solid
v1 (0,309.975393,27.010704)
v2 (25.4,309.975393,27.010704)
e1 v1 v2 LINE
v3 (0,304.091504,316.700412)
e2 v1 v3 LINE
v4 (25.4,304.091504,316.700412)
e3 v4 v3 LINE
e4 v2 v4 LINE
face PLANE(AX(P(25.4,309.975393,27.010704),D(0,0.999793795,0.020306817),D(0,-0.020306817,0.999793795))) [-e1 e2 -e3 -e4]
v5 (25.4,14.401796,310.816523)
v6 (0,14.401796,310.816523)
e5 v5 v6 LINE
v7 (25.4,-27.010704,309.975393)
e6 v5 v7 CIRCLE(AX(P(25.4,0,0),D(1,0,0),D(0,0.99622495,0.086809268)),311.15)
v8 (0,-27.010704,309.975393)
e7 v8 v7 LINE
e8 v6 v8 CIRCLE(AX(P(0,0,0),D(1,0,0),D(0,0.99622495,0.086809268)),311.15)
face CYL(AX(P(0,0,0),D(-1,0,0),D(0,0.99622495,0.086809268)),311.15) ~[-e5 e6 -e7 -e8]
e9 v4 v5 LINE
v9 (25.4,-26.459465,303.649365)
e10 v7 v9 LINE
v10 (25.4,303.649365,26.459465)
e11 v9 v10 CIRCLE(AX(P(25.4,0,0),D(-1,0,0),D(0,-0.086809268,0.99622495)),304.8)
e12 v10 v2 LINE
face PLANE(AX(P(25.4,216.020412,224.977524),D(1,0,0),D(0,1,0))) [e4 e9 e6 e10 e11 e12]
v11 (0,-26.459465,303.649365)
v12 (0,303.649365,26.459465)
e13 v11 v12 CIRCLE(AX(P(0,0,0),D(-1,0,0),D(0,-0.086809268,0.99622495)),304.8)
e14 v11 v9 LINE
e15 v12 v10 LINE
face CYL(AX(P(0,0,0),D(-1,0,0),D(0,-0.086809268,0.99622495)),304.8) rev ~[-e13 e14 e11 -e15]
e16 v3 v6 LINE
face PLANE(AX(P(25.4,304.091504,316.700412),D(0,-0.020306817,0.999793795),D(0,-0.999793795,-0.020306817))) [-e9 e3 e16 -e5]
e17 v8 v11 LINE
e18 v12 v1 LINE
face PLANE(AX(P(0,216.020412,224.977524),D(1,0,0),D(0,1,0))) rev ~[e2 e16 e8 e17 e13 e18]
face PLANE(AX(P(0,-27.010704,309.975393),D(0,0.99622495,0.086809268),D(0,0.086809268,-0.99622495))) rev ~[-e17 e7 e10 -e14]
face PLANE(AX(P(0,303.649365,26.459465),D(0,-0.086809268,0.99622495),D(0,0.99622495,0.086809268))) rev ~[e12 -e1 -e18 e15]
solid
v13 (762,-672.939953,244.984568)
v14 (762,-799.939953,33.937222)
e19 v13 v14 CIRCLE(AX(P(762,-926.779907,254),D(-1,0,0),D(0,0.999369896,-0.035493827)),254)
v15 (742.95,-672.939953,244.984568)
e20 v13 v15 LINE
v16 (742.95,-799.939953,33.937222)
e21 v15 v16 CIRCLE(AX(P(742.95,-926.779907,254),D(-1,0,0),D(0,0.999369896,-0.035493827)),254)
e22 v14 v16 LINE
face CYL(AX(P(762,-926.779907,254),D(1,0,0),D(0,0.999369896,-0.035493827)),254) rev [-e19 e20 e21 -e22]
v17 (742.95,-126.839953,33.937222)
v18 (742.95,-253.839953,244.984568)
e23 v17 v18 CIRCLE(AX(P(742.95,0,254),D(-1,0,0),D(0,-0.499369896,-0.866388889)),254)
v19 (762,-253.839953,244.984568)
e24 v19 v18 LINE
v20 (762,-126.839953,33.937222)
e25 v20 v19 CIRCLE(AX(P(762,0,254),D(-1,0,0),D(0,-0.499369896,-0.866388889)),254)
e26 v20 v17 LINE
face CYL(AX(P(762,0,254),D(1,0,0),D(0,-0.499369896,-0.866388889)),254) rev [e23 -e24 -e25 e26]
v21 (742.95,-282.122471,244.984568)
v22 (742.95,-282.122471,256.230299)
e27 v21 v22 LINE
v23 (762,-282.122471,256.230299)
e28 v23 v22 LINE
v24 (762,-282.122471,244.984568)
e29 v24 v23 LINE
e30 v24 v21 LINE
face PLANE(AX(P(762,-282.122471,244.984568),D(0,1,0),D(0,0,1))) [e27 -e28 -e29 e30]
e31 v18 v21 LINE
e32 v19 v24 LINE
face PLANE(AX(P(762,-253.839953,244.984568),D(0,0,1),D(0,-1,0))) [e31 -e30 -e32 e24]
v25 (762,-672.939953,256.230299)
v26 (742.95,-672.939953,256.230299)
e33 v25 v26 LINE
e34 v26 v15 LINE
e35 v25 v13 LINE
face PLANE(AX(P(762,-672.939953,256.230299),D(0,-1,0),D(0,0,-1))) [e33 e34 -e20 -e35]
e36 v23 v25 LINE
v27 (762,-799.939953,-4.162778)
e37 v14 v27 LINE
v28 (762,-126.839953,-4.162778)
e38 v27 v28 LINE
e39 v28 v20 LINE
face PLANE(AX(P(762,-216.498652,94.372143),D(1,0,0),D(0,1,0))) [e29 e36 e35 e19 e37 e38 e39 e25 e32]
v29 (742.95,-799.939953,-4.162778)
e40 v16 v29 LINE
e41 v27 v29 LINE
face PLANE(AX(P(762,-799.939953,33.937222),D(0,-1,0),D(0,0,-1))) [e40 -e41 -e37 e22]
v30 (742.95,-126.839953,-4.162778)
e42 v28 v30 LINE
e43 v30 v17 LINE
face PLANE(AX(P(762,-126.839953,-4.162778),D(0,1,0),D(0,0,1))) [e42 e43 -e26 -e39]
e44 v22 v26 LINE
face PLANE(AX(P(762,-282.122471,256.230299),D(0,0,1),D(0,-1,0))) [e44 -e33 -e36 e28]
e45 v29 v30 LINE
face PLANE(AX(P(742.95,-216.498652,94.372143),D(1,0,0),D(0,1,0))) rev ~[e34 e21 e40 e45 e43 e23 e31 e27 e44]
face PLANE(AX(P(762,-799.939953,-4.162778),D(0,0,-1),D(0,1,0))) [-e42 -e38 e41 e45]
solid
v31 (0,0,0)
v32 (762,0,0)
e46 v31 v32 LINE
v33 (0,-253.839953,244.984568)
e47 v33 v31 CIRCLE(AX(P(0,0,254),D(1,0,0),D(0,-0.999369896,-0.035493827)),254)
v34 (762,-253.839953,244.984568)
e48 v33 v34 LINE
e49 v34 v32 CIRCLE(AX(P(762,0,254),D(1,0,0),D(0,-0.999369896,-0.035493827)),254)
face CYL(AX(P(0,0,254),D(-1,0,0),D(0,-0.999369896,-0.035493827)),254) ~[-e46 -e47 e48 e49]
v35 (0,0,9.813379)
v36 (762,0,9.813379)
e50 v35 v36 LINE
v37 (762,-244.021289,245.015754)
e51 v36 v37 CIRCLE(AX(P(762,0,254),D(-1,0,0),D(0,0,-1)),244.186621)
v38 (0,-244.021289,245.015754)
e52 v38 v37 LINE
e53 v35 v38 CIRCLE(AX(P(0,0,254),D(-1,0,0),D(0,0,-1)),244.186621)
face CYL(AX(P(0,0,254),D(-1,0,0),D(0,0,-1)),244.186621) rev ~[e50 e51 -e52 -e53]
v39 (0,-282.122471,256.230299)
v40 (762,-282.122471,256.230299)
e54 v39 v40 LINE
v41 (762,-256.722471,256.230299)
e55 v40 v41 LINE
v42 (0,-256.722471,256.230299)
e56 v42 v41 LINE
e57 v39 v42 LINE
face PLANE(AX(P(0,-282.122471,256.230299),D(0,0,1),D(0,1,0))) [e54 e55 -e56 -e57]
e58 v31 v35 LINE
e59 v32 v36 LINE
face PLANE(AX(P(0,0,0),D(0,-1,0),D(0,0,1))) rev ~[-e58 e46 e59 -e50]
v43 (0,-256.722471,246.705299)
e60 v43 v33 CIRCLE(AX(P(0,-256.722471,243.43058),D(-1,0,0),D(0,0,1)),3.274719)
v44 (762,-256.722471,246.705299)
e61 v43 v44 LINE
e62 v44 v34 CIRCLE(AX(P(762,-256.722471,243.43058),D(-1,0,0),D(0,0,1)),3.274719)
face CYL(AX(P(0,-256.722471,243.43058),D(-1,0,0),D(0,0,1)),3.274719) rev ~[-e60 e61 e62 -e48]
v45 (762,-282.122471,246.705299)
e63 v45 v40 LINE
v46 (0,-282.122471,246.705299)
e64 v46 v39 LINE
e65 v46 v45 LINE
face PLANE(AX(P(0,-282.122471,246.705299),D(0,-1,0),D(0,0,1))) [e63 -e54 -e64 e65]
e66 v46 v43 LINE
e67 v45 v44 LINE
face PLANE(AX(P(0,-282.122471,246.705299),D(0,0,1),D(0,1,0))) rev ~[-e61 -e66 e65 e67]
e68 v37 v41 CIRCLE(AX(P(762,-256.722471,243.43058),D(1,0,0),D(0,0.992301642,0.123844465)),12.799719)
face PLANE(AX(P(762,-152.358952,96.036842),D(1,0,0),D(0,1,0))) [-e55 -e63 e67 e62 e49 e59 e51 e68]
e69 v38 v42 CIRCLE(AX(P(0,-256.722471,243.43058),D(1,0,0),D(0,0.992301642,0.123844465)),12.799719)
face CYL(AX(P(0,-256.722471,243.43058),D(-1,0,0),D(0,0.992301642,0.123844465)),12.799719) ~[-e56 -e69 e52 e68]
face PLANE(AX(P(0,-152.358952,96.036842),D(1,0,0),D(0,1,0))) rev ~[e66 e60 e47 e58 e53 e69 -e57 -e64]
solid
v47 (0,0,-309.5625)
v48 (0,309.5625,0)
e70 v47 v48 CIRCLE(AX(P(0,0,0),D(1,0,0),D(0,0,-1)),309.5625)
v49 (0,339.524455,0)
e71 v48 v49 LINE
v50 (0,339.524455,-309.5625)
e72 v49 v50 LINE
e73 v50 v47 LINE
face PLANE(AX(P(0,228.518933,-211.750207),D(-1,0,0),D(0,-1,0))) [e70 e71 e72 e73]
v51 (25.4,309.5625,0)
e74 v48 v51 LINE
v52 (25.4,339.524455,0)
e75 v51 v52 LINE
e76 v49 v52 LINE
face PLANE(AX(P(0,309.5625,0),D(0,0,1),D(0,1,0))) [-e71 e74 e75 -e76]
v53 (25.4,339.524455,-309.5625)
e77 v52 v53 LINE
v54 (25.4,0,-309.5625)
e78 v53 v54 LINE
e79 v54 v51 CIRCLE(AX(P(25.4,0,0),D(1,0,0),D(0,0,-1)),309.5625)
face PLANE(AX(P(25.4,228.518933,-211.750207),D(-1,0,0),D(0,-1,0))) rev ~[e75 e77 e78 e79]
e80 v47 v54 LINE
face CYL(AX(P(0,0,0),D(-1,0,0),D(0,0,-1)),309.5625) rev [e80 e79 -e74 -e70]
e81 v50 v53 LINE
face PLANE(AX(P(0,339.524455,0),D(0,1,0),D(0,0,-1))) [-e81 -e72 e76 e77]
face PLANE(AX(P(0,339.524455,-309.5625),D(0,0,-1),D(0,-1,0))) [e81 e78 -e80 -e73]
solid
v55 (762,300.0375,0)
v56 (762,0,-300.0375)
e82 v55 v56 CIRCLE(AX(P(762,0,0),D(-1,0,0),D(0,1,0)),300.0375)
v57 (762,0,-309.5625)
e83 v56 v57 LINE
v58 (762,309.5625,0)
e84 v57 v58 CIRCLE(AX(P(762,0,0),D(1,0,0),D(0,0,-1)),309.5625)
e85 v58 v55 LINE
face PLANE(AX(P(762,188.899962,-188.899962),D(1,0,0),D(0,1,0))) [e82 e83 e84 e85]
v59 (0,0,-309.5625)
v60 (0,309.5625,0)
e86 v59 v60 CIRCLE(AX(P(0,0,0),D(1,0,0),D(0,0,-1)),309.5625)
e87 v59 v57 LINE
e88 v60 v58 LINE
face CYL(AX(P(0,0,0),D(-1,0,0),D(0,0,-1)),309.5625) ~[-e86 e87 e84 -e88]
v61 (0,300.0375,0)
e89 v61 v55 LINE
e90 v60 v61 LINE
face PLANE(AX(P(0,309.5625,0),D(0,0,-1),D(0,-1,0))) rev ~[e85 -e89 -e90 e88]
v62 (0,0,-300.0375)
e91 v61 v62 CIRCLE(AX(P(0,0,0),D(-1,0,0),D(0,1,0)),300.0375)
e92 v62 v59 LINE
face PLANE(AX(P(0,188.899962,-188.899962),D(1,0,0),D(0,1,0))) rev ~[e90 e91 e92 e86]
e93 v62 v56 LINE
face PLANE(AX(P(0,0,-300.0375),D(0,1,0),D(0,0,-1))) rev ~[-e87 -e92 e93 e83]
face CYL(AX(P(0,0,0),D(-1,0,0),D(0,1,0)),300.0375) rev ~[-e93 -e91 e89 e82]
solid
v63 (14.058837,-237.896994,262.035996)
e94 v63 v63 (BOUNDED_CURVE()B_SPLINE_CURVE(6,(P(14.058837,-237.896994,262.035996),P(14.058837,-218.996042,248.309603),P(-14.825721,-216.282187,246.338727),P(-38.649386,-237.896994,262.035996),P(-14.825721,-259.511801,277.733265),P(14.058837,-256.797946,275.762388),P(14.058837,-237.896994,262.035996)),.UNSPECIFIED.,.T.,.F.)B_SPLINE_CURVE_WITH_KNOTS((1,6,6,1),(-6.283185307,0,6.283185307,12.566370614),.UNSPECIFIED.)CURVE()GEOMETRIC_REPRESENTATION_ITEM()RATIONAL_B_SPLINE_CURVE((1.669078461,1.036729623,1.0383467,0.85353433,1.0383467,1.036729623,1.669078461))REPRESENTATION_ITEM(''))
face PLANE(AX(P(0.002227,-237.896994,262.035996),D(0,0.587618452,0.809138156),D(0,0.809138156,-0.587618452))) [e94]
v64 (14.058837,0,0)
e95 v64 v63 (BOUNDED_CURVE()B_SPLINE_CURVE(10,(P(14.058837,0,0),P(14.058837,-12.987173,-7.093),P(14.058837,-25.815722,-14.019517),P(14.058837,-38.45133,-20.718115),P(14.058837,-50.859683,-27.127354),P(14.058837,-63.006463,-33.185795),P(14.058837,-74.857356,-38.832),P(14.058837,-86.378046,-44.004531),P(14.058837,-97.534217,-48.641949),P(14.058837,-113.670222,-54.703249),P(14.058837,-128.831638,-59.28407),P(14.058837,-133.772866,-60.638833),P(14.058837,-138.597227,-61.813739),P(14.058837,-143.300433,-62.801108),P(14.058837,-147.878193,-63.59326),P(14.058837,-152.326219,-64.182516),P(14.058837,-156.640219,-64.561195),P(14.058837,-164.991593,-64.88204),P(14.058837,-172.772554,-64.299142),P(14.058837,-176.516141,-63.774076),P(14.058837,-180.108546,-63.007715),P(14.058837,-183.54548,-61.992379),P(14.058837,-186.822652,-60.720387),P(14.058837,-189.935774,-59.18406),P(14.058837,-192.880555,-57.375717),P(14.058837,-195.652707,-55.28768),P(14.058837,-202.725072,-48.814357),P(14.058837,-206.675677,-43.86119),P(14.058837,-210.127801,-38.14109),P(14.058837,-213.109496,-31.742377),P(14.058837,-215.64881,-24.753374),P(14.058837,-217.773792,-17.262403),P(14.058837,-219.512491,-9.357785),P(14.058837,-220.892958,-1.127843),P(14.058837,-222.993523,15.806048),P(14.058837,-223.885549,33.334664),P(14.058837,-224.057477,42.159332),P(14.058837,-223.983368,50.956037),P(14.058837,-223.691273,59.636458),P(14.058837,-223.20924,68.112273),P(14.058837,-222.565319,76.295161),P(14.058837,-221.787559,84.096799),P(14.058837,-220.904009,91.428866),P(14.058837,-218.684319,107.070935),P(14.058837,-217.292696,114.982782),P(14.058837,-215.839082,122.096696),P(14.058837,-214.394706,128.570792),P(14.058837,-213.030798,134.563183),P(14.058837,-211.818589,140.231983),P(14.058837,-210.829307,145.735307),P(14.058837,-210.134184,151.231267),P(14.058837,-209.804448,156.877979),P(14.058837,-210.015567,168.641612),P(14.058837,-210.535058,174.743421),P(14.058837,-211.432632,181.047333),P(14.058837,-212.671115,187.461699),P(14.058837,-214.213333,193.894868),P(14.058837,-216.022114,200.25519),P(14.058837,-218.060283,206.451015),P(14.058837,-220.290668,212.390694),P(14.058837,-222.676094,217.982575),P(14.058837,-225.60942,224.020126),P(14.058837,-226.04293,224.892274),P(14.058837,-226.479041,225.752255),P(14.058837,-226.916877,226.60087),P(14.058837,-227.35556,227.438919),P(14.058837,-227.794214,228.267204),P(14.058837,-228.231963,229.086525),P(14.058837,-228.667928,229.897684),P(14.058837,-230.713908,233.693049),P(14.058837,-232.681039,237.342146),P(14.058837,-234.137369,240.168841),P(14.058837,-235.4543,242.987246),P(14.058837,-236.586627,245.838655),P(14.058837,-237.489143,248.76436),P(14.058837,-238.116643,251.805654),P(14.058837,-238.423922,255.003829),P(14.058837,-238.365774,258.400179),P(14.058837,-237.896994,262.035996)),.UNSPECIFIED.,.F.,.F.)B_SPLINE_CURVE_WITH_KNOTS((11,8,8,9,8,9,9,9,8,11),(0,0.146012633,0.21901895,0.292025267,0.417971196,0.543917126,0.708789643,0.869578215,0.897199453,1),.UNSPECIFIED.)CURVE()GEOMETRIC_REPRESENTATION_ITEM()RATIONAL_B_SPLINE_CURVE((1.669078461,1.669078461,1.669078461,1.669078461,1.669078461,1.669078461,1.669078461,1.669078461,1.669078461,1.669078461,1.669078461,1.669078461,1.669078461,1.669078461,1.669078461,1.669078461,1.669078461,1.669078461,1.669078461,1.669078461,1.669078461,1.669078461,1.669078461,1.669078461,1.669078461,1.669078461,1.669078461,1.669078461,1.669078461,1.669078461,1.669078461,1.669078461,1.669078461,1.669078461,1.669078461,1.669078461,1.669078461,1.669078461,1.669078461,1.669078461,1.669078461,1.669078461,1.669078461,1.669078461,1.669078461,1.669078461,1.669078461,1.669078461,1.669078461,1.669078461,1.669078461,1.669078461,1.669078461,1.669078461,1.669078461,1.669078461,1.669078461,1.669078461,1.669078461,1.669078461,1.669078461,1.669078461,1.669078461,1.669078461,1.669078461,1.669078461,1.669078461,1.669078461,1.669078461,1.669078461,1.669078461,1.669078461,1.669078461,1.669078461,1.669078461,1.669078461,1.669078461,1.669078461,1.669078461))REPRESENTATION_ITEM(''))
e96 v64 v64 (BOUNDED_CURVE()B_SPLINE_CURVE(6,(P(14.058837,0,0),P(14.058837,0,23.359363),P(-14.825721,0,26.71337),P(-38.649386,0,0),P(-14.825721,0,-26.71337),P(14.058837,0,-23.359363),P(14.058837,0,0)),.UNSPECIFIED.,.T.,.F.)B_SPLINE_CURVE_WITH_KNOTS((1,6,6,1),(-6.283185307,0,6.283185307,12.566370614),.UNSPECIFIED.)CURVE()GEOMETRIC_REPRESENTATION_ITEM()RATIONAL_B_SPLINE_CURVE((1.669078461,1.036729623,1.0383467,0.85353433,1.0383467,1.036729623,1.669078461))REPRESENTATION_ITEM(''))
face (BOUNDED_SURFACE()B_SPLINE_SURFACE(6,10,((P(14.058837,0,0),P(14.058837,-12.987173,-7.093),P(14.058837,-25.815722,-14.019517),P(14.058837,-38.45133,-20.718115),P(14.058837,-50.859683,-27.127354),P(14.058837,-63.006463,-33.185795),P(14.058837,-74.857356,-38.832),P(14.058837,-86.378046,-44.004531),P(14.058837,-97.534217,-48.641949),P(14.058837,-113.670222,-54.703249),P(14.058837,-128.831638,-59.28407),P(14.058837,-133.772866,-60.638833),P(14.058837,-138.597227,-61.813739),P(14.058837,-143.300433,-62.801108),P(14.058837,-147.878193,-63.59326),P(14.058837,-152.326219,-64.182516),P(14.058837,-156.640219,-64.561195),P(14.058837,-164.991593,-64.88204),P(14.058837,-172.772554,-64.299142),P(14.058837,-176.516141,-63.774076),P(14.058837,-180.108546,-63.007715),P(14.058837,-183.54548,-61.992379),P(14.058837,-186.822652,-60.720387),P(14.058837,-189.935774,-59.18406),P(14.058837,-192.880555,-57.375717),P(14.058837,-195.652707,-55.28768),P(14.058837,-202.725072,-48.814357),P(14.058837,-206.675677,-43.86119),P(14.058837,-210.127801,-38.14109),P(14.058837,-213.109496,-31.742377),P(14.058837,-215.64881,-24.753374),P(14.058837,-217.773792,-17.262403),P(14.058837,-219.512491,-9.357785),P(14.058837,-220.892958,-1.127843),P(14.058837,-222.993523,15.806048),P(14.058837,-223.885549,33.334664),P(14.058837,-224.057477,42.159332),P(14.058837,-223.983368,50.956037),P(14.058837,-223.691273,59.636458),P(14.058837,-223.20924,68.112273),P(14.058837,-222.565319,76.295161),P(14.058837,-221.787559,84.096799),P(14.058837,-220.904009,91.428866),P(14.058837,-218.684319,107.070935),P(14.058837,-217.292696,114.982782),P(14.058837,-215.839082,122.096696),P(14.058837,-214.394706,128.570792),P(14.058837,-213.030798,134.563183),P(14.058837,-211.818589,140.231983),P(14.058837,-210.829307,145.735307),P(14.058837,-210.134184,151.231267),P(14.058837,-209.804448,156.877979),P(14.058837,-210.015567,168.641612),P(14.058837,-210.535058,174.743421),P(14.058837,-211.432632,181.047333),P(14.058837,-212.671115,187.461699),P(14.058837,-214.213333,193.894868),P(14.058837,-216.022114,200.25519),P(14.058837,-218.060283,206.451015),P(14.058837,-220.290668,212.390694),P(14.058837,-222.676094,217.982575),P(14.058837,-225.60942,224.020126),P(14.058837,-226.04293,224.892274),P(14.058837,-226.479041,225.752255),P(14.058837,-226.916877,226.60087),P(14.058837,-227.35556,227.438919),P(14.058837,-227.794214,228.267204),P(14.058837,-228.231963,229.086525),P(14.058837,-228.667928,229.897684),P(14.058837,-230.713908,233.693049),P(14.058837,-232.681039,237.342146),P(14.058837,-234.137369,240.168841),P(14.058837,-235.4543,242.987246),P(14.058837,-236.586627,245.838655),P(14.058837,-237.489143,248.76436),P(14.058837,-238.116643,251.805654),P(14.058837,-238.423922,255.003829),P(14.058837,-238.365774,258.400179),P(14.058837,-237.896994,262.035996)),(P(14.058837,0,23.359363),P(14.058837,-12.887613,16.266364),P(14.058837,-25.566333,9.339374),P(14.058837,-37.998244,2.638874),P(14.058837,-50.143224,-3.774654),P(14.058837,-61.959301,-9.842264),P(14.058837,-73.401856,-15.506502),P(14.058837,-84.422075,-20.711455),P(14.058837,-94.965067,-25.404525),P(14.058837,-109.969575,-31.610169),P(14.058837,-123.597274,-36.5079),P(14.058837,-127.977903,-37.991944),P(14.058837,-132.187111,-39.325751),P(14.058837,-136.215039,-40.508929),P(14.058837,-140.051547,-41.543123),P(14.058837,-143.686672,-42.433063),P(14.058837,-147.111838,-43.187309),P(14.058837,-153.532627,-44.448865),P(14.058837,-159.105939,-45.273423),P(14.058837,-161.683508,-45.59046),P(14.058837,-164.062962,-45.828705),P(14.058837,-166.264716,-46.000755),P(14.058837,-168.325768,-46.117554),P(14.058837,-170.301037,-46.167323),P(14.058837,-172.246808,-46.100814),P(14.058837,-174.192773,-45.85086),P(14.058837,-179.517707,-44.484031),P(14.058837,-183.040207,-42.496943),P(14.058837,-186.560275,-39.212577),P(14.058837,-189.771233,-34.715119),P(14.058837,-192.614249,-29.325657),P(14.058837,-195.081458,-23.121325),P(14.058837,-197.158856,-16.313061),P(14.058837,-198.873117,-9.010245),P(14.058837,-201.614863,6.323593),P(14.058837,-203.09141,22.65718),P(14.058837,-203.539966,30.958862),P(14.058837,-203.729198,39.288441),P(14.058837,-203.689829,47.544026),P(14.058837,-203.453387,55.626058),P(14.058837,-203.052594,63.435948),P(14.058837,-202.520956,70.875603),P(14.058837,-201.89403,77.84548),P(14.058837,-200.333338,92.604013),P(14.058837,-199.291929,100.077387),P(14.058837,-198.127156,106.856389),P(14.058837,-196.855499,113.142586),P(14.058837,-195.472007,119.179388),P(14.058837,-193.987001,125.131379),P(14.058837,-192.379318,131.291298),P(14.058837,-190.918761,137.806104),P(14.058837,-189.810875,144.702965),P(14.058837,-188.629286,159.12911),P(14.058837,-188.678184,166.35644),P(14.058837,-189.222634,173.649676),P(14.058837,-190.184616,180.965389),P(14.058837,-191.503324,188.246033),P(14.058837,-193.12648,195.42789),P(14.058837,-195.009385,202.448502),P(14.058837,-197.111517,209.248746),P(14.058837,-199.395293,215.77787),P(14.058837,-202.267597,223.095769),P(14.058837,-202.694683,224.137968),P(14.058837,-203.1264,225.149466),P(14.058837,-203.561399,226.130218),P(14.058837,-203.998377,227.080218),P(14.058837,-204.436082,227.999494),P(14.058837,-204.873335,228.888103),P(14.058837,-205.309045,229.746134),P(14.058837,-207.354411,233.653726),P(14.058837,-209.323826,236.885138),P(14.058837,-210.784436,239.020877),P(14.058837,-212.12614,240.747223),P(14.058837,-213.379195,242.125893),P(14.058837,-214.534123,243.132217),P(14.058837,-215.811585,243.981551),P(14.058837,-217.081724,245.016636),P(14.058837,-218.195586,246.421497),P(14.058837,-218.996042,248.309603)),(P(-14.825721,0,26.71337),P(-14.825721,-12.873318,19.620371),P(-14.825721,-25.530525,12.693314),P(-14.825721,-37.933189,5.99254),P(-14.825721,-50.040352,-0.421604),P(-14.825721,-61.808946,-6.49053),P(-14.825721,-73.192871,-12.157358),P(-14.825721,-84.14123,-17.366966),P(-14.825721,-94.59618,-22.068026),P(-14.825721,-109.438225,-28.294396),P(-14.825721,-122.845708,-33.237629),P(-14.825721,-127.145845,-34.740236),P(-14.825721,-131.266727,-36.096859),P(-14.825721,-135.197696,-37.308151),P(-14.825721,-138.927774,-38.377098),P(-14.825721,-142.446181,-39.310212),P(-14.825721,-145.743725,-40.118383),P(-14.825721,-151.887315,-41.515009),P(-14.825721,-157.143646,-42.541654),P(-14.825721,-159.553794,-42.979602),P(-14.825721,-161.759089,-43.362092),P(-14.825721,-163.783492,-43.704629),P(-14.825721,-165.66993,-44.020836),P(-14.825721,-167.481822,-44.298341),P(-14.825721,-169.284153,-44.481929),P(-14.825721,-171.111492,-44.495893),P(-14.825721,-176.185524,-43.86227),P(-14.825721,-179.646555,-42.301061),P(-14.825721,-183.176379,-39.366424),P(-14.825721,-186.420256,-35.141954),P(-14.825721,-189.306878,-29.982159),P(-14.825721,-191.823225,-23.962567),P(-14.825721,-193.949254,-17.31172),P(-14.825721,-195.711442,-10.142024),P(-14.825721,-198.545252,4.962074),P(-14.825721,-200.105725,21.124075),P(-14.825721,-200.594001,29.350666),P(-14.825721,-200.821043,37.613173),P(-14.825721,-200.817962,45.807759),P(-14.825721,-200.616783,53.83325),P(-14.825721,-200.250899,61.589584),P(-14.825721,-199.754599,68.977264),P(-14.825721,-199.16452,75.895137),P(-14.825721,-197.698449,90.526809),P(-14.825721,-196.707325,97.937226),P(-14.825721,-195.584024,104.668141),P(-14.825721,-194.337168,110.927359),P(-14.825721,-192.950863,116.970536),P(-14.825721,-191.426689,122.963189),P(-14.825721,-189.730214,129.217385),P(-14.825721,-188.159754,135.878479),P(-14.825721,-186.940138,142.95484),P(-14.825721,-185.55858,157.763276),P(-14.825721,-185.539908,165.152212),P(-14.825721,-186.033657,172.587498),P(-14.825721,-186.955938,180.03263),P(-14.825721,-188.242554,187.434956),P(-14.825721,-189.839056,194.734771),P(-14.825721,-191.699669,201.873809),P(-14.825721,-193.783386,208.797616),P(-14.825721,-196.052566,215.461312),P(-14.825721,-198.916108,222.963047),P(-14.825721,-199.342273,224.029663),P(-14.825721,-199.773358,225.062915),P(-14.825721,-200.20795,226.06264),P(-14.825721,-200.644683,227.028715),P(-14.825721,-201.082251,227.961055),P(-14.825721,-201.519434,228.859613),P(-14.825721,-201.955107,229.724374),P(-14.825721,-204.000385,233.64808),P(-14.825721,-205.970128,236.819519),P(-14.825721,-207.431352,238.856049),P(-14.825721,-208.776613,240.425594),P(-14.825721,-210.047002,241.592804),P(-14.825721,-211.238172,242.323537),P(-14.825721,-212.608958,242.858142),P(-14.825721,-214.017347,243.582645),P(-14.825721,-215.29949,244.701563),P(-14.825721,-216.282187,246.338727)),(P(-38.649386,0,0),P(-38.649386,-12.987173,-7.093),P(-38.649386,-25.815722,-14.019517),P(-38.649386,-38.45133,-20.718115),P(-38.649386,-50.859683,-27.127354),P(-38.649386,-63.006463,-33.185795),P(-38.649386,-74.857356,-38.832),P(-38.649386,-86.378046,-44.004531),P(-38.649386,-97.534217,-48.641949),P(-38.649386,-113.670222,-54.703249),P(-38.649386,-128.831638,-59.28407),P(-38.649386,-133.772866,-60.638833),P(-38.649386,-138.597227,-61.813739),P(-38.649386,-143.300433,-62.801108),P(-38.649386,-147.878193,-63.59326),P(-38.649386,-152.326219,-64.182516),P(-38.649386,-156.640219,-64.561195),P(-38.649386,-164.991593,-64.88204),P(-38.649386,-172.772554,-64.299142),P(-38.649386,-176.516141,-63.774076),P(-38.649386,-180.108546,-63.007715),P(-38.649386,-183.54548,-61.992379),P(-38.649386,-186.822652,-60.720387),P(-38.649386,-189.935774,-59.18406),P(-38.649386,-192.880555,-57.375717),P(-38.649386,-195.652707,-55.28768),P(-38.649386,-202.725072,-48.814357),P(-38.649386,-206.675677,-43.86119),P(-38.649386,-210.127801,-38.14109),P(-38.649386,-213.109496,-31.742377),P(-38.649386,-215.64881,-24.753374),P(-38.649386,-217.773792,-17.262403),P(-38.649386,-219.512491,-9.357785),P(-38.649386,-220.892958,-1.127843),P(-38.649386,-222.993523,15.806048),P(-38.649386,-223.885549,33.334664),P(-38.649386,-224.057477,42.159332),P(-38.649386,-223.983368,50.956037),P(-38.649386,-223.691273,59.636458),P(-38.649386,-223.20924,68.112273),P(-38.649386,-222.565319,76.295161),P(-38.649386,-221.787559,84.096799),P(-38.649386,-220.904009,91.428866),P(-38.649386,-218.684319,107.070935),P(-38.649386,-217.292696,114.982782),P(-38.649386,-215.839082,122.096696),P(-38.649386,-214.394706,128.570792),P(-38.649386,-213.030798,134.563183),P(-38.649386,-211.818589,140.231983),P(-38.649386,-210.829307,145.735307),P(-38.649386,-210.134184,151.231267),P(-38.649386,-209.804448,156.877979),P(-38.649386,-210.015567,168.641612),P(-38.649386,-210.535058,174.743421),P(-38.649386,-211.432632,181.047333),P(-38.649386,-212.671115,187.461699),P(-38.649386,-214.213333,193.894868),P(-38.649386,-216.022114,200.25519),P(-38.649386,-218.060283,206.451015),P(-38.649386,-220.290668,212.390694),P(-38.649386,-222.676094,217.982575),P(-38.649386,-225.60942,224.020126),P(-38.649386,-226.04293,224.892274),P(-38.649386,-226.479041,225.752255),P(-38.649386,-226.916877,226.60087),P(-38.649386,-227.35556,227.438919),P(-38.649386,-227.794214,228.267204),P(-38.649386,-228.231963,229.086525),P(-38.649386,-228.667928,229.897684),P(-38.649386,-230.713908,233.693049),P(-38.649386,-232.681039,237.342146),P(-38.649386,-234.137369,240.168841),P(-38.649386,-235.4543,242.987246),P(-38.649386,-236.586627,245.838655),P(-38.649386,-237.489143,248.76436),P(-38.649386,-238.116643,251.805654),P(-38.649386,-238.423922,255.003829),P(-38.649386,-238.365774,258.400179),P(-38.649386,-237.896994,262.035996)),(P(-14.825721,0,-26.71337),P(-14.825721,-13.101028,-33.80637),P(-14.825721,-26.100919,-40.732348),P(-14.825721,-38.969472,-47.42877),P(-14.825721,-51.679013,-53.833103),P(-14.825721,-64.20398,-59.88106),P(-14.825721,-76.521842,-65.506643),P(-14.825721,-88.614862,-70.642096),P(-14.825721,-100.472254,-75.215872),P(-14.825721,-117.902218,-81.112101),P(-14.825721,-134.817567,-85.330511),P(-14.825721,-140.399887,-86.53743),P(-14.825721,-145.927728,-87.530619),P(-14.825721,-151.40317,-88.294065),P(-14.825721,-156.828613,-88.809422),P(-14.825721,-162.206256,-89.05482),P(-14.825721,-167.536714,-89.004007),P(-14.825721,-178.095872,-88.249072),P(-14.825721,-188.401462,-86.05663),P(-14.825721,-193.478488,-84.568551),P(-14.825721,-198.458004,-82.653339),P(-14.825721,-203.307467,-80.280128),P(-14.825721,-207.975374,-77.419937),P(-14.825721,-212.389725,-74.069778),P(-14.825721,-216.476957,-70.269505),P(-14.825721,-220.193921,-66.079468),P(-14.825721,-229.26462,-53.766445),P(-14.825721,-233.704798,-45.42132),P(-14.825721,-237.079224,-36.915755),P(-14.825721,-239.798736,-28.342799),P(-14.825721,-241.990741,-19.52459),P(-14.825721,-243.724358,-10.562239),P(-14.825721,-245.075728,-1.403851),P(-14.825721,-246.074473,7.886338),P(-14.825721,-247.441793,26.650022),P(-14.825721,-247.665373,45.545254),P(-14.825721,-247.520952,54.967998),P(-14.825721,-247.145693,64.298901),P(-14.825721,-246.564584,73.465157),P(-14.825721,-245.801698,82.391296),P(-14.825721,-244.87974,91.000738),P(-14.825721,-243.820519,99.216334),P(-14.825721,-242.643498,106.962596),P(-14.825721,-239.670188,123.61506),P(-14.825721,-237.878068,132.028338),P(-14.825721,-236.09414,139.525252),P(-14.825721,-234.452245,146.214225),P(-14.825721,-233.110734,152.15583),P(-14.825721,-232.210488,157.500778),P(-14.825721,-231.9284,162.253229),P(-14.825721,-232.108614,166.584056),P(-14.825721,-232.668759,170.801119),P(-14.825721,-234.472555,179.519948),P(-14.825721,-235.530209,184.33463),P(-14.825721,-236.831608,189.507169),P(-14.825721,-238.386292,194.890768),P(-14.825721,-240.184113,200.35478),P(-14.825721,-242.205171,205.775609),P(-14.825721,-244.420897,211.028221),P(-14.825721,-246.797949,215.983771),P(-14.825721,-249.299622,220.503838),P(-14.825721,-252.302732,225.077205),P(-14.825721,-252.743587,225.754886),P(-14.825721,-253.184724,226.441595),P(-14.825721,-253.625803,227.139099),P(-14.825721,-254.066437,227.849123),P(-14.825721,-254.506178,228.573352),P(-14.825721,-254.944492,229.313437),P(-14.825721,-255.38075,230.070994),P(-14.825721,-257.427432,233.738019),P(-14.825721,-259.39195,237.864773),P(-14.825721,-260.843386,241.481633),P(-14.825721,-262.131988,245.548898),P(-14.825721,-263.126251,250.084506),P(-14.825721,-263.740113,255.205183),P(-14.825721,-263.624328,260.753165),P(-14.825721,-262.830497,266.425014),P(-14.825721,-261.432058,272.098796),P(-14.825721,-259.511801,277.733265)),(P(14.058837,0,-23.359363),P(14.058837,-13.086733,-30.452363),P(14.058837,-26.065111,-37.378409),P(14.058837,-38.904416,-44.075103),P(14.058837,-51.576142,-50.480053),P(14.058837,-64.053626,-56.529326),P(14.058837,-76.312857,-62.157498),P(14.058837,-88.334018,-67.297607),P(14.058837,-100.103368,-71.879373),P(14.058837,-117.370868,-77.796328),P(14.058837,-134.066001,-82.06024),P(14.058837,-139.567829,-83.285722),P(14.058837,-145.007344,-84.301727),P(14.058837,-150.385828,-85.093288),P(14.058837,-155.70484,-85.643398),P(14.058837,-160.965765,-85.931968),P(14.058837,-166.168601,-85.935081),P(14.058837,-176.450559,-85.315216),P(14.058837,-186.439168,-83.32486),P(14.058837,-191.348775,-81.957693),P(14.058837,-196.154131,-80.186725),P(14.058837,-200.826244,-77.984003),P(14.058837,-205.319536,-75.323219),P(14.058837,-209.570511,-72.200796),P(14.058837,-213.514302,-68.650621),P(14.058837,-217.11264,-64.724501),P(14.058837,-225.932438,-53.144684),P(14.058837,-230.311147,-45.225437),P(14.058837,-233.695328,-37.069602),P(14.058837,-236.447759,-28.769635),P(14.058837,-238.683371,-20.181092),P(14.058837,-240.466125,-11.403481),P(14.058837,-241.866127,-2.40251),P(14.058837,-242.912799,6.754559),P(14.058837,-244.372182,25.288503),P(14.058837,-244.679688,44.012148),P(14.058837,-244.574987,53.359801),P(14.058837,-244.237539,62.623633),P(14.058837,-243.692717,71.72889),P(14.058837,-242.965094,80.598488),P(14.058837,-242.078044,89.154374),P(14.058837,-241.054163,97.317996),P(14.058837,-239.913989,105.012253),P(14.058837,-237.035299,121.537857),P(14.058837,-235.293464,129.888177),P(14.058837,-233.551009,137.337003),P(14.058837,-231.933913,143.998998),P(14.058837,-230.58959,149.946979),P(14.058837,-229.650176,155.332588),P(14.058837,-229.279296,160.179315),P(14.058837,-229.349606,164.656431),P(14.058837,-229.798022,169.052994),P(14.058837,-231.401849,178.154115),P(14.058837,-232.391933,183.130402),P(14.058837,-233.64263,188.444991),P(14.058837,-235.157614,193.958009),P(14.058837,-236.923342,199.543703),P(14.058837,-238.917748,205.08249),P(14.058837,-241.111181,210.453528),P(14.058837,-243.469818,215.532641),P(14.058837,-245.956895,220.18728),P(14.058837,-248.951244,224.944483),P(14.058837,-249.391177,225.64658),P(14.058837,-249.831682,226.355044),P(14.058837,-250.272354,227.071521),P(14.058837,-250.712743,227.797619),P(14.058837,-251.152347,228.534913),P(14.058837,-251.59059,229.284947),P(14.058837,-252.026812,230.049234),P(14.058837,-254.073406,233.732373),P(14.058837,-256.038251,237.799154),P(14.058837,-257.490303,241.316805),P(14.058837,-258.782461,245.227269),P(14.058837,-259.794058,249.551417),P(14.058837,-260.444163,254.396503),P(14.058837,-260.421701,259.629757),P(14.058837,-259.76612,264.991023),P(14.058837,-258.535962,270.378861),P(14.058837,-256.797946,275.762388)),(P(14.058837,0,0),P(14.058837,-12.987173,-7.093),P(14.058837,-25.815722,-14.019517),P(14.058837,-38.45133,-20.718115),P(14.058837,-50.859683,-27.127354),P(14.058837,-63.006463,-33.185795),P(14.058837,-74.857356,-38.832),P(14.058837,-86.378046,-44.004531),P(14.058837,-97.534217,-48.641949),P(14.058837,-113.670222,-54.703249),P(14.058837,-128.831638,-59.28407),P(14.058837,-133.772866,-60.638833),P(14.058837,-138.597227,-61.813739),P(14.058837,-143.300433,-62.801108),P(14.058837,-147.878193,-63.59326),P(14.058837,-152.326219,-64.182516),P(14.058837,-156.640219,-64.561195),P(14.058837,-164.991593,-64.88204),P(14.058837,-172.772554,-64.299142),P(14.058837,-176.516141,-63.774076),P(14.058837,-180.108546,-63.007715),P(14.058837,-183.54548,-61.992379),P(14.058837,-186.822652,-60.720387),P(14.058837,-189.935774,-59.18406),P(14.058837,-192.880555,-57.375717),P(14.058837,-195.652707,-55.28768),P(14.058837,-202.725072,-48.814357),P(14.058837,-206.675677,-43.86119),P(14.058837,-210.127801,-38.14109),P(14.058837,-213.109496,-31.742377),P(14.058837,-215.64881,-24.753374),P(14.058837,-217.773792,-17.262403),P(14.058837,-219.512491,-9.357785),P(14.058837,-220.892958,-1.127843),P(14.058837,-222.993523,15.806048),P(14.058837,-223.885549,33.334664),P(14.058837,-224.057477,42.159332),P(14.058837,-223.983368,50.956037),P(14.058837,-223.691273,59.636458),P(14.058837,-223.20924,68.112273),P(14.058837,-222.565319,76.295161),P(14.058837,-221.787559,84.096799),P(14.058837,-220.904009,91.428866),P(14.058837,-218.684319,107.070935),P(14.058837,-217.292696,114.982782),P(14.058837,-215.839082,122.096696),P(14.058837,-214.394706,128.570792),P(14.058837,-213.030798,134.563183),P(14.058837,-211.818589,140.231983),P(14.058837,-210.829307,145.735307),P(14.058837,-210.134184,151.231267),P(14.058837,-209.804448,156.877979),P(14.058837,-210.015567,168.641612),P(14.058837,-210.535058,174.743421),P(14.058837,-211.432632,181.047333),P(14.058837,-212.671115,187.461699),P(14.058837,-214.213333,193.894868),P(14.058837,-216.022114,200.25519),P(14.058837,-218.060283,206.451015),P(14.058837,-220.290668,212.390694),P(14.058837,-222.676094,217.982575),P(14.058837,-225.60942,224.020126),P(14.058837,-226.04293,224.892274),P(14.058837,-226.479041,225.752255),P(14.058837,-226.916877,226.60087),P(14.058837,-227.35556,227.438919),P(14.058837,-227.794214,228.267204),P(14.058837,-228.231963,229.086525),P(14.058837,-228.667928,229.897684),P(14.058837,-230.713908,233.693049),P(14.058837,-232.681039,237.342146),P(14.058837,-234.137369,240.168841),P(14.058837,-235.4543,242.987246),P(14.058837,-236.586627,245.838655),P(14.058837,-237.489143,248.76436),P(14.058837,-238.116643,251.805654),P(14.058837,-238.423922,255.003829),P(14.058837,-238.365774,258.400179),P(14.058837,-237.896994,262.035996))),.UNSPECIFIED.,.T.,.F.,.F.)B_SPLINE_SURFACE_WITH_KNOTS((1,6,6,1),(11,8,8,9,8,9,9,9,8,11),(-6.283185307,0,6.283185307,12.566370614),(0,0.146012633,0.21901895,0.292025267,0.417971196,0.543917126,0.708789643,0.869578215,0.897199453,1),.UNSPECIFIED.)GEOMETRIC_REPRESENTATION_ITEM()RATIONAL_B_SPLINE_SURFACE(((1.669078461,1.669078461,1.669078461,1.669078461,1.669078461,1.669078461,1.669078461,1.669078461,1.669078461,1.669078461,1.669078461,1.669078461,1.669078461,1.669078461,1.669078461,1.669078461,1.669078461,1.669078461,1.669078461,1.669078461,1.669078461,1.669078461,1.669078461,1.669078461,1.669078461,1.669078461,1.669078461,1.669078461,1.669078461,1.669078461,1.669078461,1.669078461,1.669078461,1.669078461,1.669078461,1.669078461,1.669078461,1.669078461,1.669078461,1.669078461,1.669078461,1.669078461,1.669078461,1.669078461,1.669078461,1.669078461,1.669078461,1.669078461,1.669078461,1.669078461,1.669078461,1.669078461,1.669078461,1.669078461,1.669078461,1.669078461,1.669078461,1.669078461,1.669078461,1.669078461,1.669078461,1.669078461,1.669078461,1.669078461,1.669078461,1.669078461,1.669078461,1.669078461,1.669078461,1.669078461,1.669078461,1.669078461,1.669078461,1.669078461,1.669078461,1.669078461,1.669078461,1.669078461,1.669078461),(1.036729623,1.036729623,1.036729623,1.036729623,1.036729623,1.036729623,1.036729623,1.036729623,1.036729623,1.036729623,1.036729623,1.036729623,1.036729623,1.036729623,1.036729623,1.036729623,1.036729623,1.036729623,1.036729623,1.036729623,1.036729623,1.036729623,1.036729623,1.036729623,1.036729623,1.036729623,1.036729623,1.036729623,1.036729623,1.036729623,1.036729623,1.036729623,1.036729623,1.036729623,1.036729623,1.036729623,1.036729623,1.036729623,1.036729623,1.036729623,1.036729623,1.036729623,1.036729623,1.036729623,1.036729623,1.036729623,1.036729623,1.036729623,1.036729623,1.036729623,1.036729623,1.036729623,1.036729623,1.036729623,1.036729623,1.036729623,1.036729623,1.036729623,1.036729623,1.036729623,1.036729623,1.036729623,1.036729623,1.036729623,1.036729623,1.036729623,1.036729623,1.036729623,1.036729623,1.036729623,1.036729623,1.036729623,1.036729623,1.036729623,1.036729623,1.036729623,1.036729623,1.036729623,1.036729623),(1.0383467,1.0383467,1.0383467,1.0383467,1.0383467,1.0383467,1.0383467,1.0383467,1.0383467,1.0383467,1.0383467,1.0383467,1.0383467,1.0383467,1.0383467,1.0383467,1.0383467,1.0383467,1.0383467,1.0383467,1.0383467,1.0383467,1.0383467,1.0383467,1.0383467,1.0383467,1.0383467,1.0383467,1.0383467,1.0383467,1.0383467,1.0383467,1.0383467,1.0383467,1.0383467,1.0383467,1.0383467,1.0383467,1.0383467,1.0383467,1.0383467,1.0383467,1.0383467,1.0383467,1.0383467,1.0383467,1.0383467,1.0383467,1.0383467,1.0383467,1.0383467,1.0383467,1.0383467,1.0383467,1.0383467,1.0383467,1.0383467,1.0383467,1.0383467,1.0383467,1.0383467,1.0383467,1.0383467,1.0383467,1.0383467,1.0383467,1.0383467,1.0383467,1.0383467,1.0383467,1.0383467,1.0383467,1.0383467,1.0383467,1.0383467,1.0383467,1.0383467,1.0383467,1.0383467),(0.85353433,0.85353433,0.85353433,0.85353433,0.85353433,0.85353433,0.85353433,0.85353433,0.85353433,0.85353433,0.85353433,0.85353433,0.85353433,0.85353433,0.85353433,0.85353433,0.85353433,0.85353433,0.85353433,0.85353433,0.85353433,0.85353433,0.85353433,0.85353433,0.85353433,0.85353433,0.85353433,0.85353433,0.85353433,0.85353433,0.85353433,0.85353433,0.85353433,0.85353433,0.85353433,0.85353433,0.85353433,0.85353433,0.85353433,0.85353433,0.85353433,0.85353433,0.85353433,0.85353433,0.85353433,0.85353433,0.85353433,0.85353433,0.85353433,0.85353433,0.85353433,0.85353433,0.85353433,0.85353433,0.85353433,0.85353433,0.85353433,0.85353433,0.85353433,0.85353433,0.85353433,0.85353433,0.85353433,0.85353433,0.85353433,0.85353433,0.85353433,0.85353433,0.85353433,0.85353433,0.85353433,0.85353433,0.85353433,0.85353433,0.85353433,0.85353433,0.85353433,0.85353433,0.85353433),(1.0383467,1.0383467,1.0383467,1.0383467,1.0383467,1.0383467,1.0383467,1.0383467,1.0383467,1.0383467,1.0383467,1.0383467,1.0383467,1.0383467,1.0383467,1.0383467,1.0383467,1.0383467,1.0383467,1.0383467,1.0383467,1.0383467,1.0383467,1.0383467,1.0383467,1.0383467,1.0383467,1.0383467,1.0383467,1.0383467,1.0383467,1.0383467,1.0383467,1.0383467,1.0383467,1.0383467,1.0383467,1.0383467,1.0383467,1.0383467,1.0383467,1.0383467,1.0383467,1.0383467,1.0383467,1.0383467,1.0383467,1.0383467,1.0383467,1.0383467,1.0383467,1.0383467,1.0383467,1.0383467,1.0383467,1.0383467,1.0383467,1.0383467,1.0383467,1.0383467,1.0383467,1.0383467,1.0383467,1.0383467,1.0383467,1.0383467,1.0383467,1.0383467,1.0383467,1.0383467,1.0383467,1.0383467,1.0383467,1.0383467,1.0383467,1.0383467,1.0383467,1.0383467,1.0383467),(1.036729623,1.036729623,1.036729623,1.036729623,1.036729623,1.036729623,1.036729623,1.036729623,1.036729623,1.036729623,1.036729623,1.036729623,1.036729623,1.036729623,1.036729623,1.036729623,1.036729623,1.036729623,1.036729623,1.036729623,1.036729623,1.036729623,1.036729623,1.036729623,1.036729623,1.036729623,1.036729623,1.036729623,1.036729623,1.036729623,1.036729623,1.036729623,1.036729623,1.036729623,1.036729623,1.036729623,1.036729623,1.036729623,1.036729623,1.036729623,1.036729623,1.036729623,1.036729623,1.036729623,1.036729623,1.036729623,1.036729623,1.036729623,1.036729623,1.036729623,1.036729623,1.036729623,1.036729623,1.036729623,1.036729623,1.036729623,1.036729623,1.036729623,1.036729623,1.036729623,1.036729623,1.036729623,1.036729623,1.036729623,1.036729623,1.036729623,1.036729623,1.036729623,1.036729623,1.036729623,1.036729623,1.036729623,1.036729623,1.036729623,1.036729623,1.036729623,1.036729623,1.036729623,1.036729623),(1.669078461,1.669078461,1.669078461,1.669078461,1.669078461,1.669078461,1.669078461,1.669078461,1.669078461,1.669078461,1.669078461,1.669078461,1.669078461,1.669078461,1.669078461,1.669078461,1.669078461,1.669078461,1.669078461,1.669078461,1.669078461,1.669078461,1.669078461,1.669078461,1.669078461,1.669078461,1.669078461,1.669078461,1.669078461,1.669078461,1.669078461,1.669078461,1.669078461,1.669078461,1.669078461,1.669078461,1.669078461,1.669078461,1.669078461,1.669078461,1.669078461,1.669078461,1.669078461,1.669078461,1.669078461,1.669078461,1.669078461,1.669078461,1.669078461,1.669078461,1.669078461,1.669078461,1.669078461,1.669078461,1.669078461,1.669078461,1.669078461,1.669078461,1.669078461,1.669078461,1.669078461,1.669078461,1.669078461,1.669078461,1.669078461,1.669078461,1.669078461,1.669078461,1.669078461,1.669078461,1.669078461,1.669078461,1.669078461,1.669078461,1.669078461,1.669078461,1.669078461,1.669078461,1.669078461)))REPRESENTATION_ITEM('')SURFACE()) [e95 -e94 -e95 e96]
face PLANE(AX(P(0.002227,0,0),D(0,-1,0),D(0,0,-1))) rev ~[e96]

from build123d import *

# Parameters (mm, degrees)
F1_DEPTH  = 762
F3_DEPTH  = 25.4
F5_DEPTH  = 25.4
F7_R      = 14.058836882
F10_DEPTH = 25.4
F11_W     = 25.4
F11_H     = 9.525
F12_DEPTH = 762
F14_DEPTH = 19.05


with BuildPart() as f1:
    # F0 (on Right) → F1 (new body)
    with BuildSketch(Plane.YZ):
        with BuildLine():
            Line((309.5625, 0), (300.0375, 0))
            ThreePointArc((300.0375, 0), (212.1585508603, -212.1585508603), (0, -300.0375))
            Line((0, -300.0375), (0, -309.5625))
            ThreePointArc((0, -309.5625), (218.8937429511, -218.8937429511), (309.5625, 0))
        make_face()
    extrude(amount=F1_DEPTH)


with BuildPart() as f3:
    # F2 (on Right) → F3 (new body)
    with BuildSketch(Plane.YZ):
        with BuildLine():
            ThreePointArc((-26.4594648625, 303.6493647601), (196.002857894, 233.4221919557), (303.6493647601, 26.4594648625))
            Line((303.6493647601, 26.4594648625), (309.9753931926, 27.0107037138))
            ThreePointArc((309.9753931926, 27.0107037138), (200.0862507668, 238.2851542881), (-27.0107037138, 309.9753931926))
            Line((-27.0107037138, 309.9753931926), (-26.4594648625, 303.6493647601))
        make_face()
    extrude(amount=F3_DEPTH)

    # F4 (on face) → F5 (join)
    with BuildSketch(Plane.YZ.offset(25.4)):
        with BuildLine():
            ThreePointArc((14.4017959028, 310.8165226863), (215.5030763632, 224.4387368036), (309.9753931926, 27.0107037138))
            Line((309.9753931926, 27.0107037138), (304.0915040339, 316.7004118449))
            Line((304.0915040339, 316.7004118449), (14.4017959028, 310.8165226863))
        make_face()
    extrude(amount=-F5_DEPTH)


with BuildPart() as f8:
    # F8: sweep along a path in F6
    with BuildLine(Plane.YZ) as f8_path:
        add(Plane.YZ * Edge.make_bspline(
            [(0, 0), (-86.5811547172, -47.2866635671), (-230.1175587572, -116.7563055821), (-225.2096979585, 104.5112167582), (-203.5154602271, 157.8235998858), (-222.1693528222, 225.2381372065), (-239.8794464893, 246.6602765606), (-237.8969937563, 262.0359957218)],
            knots=[0, 0, 0, 0, 0.2920252666, 0.5439171262, 0.7087896431, 0.8695782154, 1, 1, 1, 1], degree=3))
    # F7 (on Front) → F8 (sweep)
    with BuildSketch(Plane.XZ):
        Circle(F7_R)
    sweep(path=f8_path.line)


with BuildPart() as f10:
    # F9 (on face) → F10 (new body)
    with BuildSketch(Plane(origin=(0, 0, 0), x_dir=(0, -1, 0), z_dir=(-1, 0, 0))):
        with BuildLine():
            Line((-339.5244552609, -309.5625), (0, -309.5625))
            ThreePointArc((0, -309.5625), (-218.8937429511, -218.8937429511), (-309.5625, 0))
            Line((-309.5625, 0), (-339.5244552609, 0))
            Line((-339.5244552609, 0), (-339.5244552609, -309.5625))
        make_face()
    extrude(amount=-F10_DEPTH)


with BuildPart() as f12:
    # F11 (on Right) → F12 (new body)
    with BuildSketch(Plane.YZ):
        with BuildLine():
            Line((-244.0212887158, 245.0157544993), (-253.8399534826, 244.9845679012))
            ThreePointArc((-253.8399534826, 244.9845679012), (-176.3888888889, 71.2352334925), (0, 0))
            Line((0, 0), (0, 9.8133787167))
            ThreePointArc((0, 9.8133787167), (-169.4598381036, 78.1862653725), (-244.0212887158, 245.0157544993))
        make_face()
        with BuildLine():
            ThreePointArc((-256.722471, 246.7052992387), (-255.0439431053, 246.242399709), (-253.8399534826, 244.9845679012))
            Line((-253.8399534826, 244.9845679012), (-244.0212887158, 245.0157544993))
            ThreePointArc((-244.0212887158, 245.0157544993), (-248.2506641513, 253.0254380217), (-256.722471, 256.2302992387))
            Line((-256.722471, 256.2302992387), (-256.722471, 246.7052992387))
        make_face()
        with Locations((-269.422471, 251.4677992387)):
            Rectangle(F11_W, F11_H)
    extrude(amount=F12_DEPTH)


with BuildPart() as f14:
    # F13 (on face) → F14 (new body)
    with BuildSketch(Plane.YZ.offset(762)):
        with BuildLine():
            ThreePointArc((-126.8399534826, 33.9372221376), (-217.633966628, 123.0364303718), (-253.8399534826, 244.9845679012))
            Line((-253.8399534826, 244.9845679012), (-253.8399534826, -4.1627778624))
            Line((-253.8399534826, -4.1627778624), (-126.8399534826, -4.1627778624))
            Line((-126.8399534826, -4.1627778624), (-126.8399534826, 33.9372221376))
        make_face()
        Polygon((-253.8399534826, -4.1627778624), (-253.8399534826, 244.9845679012), (-282.122471, 244.9845679012), (-282.122471, 256.2302992387), (-463.3899534826, 256.2302992387), (-463.3899534826, -4.1627778624), align=None)
        Polygon((-672.9399534826, -4.1627778624), (-463.3899534826, -4.1627778624), (-463.3899534826, 256.2302992387), (-644.6574359654, 256.2302992387), (-672.9399534826, 256.2302992387), (-672.9399534826, 244.9845679012), align=None)
        with BuildLine():
            Line((-799.9399534826, -4.1627778624), (-672.9399534826, -4.1627778624))
            Line((-672.9399534826, -4.1627778624), (-672.9399534826, 244.9845679012))
            ThreePointArc((-672.9399534826, 244.9845679012), (-709.1459403373, 123.0364303718), (-799.9399534826, 33.9372221376))
            Line((-799.9399534826, 33.9372221376), (-799.9399534826, -4.1627778624))
        make_face()
        Polygon((-253.8399534826, -4.1627778624), (-253.8399534826, 244.9845679012), (-282.122471, 244.9845679012), (-282.122471, 246.7052992387), (-282.122471, 256.2302992387), (-463.3899534826, 256.2302992387), (-463.3899534826, -4.1627778624), align=None)
    extrude(amount=-F14_DEPTH)


solid = Compound([f1.part, f3.part, f8.part, f10.part, f12.part, f14.part])
